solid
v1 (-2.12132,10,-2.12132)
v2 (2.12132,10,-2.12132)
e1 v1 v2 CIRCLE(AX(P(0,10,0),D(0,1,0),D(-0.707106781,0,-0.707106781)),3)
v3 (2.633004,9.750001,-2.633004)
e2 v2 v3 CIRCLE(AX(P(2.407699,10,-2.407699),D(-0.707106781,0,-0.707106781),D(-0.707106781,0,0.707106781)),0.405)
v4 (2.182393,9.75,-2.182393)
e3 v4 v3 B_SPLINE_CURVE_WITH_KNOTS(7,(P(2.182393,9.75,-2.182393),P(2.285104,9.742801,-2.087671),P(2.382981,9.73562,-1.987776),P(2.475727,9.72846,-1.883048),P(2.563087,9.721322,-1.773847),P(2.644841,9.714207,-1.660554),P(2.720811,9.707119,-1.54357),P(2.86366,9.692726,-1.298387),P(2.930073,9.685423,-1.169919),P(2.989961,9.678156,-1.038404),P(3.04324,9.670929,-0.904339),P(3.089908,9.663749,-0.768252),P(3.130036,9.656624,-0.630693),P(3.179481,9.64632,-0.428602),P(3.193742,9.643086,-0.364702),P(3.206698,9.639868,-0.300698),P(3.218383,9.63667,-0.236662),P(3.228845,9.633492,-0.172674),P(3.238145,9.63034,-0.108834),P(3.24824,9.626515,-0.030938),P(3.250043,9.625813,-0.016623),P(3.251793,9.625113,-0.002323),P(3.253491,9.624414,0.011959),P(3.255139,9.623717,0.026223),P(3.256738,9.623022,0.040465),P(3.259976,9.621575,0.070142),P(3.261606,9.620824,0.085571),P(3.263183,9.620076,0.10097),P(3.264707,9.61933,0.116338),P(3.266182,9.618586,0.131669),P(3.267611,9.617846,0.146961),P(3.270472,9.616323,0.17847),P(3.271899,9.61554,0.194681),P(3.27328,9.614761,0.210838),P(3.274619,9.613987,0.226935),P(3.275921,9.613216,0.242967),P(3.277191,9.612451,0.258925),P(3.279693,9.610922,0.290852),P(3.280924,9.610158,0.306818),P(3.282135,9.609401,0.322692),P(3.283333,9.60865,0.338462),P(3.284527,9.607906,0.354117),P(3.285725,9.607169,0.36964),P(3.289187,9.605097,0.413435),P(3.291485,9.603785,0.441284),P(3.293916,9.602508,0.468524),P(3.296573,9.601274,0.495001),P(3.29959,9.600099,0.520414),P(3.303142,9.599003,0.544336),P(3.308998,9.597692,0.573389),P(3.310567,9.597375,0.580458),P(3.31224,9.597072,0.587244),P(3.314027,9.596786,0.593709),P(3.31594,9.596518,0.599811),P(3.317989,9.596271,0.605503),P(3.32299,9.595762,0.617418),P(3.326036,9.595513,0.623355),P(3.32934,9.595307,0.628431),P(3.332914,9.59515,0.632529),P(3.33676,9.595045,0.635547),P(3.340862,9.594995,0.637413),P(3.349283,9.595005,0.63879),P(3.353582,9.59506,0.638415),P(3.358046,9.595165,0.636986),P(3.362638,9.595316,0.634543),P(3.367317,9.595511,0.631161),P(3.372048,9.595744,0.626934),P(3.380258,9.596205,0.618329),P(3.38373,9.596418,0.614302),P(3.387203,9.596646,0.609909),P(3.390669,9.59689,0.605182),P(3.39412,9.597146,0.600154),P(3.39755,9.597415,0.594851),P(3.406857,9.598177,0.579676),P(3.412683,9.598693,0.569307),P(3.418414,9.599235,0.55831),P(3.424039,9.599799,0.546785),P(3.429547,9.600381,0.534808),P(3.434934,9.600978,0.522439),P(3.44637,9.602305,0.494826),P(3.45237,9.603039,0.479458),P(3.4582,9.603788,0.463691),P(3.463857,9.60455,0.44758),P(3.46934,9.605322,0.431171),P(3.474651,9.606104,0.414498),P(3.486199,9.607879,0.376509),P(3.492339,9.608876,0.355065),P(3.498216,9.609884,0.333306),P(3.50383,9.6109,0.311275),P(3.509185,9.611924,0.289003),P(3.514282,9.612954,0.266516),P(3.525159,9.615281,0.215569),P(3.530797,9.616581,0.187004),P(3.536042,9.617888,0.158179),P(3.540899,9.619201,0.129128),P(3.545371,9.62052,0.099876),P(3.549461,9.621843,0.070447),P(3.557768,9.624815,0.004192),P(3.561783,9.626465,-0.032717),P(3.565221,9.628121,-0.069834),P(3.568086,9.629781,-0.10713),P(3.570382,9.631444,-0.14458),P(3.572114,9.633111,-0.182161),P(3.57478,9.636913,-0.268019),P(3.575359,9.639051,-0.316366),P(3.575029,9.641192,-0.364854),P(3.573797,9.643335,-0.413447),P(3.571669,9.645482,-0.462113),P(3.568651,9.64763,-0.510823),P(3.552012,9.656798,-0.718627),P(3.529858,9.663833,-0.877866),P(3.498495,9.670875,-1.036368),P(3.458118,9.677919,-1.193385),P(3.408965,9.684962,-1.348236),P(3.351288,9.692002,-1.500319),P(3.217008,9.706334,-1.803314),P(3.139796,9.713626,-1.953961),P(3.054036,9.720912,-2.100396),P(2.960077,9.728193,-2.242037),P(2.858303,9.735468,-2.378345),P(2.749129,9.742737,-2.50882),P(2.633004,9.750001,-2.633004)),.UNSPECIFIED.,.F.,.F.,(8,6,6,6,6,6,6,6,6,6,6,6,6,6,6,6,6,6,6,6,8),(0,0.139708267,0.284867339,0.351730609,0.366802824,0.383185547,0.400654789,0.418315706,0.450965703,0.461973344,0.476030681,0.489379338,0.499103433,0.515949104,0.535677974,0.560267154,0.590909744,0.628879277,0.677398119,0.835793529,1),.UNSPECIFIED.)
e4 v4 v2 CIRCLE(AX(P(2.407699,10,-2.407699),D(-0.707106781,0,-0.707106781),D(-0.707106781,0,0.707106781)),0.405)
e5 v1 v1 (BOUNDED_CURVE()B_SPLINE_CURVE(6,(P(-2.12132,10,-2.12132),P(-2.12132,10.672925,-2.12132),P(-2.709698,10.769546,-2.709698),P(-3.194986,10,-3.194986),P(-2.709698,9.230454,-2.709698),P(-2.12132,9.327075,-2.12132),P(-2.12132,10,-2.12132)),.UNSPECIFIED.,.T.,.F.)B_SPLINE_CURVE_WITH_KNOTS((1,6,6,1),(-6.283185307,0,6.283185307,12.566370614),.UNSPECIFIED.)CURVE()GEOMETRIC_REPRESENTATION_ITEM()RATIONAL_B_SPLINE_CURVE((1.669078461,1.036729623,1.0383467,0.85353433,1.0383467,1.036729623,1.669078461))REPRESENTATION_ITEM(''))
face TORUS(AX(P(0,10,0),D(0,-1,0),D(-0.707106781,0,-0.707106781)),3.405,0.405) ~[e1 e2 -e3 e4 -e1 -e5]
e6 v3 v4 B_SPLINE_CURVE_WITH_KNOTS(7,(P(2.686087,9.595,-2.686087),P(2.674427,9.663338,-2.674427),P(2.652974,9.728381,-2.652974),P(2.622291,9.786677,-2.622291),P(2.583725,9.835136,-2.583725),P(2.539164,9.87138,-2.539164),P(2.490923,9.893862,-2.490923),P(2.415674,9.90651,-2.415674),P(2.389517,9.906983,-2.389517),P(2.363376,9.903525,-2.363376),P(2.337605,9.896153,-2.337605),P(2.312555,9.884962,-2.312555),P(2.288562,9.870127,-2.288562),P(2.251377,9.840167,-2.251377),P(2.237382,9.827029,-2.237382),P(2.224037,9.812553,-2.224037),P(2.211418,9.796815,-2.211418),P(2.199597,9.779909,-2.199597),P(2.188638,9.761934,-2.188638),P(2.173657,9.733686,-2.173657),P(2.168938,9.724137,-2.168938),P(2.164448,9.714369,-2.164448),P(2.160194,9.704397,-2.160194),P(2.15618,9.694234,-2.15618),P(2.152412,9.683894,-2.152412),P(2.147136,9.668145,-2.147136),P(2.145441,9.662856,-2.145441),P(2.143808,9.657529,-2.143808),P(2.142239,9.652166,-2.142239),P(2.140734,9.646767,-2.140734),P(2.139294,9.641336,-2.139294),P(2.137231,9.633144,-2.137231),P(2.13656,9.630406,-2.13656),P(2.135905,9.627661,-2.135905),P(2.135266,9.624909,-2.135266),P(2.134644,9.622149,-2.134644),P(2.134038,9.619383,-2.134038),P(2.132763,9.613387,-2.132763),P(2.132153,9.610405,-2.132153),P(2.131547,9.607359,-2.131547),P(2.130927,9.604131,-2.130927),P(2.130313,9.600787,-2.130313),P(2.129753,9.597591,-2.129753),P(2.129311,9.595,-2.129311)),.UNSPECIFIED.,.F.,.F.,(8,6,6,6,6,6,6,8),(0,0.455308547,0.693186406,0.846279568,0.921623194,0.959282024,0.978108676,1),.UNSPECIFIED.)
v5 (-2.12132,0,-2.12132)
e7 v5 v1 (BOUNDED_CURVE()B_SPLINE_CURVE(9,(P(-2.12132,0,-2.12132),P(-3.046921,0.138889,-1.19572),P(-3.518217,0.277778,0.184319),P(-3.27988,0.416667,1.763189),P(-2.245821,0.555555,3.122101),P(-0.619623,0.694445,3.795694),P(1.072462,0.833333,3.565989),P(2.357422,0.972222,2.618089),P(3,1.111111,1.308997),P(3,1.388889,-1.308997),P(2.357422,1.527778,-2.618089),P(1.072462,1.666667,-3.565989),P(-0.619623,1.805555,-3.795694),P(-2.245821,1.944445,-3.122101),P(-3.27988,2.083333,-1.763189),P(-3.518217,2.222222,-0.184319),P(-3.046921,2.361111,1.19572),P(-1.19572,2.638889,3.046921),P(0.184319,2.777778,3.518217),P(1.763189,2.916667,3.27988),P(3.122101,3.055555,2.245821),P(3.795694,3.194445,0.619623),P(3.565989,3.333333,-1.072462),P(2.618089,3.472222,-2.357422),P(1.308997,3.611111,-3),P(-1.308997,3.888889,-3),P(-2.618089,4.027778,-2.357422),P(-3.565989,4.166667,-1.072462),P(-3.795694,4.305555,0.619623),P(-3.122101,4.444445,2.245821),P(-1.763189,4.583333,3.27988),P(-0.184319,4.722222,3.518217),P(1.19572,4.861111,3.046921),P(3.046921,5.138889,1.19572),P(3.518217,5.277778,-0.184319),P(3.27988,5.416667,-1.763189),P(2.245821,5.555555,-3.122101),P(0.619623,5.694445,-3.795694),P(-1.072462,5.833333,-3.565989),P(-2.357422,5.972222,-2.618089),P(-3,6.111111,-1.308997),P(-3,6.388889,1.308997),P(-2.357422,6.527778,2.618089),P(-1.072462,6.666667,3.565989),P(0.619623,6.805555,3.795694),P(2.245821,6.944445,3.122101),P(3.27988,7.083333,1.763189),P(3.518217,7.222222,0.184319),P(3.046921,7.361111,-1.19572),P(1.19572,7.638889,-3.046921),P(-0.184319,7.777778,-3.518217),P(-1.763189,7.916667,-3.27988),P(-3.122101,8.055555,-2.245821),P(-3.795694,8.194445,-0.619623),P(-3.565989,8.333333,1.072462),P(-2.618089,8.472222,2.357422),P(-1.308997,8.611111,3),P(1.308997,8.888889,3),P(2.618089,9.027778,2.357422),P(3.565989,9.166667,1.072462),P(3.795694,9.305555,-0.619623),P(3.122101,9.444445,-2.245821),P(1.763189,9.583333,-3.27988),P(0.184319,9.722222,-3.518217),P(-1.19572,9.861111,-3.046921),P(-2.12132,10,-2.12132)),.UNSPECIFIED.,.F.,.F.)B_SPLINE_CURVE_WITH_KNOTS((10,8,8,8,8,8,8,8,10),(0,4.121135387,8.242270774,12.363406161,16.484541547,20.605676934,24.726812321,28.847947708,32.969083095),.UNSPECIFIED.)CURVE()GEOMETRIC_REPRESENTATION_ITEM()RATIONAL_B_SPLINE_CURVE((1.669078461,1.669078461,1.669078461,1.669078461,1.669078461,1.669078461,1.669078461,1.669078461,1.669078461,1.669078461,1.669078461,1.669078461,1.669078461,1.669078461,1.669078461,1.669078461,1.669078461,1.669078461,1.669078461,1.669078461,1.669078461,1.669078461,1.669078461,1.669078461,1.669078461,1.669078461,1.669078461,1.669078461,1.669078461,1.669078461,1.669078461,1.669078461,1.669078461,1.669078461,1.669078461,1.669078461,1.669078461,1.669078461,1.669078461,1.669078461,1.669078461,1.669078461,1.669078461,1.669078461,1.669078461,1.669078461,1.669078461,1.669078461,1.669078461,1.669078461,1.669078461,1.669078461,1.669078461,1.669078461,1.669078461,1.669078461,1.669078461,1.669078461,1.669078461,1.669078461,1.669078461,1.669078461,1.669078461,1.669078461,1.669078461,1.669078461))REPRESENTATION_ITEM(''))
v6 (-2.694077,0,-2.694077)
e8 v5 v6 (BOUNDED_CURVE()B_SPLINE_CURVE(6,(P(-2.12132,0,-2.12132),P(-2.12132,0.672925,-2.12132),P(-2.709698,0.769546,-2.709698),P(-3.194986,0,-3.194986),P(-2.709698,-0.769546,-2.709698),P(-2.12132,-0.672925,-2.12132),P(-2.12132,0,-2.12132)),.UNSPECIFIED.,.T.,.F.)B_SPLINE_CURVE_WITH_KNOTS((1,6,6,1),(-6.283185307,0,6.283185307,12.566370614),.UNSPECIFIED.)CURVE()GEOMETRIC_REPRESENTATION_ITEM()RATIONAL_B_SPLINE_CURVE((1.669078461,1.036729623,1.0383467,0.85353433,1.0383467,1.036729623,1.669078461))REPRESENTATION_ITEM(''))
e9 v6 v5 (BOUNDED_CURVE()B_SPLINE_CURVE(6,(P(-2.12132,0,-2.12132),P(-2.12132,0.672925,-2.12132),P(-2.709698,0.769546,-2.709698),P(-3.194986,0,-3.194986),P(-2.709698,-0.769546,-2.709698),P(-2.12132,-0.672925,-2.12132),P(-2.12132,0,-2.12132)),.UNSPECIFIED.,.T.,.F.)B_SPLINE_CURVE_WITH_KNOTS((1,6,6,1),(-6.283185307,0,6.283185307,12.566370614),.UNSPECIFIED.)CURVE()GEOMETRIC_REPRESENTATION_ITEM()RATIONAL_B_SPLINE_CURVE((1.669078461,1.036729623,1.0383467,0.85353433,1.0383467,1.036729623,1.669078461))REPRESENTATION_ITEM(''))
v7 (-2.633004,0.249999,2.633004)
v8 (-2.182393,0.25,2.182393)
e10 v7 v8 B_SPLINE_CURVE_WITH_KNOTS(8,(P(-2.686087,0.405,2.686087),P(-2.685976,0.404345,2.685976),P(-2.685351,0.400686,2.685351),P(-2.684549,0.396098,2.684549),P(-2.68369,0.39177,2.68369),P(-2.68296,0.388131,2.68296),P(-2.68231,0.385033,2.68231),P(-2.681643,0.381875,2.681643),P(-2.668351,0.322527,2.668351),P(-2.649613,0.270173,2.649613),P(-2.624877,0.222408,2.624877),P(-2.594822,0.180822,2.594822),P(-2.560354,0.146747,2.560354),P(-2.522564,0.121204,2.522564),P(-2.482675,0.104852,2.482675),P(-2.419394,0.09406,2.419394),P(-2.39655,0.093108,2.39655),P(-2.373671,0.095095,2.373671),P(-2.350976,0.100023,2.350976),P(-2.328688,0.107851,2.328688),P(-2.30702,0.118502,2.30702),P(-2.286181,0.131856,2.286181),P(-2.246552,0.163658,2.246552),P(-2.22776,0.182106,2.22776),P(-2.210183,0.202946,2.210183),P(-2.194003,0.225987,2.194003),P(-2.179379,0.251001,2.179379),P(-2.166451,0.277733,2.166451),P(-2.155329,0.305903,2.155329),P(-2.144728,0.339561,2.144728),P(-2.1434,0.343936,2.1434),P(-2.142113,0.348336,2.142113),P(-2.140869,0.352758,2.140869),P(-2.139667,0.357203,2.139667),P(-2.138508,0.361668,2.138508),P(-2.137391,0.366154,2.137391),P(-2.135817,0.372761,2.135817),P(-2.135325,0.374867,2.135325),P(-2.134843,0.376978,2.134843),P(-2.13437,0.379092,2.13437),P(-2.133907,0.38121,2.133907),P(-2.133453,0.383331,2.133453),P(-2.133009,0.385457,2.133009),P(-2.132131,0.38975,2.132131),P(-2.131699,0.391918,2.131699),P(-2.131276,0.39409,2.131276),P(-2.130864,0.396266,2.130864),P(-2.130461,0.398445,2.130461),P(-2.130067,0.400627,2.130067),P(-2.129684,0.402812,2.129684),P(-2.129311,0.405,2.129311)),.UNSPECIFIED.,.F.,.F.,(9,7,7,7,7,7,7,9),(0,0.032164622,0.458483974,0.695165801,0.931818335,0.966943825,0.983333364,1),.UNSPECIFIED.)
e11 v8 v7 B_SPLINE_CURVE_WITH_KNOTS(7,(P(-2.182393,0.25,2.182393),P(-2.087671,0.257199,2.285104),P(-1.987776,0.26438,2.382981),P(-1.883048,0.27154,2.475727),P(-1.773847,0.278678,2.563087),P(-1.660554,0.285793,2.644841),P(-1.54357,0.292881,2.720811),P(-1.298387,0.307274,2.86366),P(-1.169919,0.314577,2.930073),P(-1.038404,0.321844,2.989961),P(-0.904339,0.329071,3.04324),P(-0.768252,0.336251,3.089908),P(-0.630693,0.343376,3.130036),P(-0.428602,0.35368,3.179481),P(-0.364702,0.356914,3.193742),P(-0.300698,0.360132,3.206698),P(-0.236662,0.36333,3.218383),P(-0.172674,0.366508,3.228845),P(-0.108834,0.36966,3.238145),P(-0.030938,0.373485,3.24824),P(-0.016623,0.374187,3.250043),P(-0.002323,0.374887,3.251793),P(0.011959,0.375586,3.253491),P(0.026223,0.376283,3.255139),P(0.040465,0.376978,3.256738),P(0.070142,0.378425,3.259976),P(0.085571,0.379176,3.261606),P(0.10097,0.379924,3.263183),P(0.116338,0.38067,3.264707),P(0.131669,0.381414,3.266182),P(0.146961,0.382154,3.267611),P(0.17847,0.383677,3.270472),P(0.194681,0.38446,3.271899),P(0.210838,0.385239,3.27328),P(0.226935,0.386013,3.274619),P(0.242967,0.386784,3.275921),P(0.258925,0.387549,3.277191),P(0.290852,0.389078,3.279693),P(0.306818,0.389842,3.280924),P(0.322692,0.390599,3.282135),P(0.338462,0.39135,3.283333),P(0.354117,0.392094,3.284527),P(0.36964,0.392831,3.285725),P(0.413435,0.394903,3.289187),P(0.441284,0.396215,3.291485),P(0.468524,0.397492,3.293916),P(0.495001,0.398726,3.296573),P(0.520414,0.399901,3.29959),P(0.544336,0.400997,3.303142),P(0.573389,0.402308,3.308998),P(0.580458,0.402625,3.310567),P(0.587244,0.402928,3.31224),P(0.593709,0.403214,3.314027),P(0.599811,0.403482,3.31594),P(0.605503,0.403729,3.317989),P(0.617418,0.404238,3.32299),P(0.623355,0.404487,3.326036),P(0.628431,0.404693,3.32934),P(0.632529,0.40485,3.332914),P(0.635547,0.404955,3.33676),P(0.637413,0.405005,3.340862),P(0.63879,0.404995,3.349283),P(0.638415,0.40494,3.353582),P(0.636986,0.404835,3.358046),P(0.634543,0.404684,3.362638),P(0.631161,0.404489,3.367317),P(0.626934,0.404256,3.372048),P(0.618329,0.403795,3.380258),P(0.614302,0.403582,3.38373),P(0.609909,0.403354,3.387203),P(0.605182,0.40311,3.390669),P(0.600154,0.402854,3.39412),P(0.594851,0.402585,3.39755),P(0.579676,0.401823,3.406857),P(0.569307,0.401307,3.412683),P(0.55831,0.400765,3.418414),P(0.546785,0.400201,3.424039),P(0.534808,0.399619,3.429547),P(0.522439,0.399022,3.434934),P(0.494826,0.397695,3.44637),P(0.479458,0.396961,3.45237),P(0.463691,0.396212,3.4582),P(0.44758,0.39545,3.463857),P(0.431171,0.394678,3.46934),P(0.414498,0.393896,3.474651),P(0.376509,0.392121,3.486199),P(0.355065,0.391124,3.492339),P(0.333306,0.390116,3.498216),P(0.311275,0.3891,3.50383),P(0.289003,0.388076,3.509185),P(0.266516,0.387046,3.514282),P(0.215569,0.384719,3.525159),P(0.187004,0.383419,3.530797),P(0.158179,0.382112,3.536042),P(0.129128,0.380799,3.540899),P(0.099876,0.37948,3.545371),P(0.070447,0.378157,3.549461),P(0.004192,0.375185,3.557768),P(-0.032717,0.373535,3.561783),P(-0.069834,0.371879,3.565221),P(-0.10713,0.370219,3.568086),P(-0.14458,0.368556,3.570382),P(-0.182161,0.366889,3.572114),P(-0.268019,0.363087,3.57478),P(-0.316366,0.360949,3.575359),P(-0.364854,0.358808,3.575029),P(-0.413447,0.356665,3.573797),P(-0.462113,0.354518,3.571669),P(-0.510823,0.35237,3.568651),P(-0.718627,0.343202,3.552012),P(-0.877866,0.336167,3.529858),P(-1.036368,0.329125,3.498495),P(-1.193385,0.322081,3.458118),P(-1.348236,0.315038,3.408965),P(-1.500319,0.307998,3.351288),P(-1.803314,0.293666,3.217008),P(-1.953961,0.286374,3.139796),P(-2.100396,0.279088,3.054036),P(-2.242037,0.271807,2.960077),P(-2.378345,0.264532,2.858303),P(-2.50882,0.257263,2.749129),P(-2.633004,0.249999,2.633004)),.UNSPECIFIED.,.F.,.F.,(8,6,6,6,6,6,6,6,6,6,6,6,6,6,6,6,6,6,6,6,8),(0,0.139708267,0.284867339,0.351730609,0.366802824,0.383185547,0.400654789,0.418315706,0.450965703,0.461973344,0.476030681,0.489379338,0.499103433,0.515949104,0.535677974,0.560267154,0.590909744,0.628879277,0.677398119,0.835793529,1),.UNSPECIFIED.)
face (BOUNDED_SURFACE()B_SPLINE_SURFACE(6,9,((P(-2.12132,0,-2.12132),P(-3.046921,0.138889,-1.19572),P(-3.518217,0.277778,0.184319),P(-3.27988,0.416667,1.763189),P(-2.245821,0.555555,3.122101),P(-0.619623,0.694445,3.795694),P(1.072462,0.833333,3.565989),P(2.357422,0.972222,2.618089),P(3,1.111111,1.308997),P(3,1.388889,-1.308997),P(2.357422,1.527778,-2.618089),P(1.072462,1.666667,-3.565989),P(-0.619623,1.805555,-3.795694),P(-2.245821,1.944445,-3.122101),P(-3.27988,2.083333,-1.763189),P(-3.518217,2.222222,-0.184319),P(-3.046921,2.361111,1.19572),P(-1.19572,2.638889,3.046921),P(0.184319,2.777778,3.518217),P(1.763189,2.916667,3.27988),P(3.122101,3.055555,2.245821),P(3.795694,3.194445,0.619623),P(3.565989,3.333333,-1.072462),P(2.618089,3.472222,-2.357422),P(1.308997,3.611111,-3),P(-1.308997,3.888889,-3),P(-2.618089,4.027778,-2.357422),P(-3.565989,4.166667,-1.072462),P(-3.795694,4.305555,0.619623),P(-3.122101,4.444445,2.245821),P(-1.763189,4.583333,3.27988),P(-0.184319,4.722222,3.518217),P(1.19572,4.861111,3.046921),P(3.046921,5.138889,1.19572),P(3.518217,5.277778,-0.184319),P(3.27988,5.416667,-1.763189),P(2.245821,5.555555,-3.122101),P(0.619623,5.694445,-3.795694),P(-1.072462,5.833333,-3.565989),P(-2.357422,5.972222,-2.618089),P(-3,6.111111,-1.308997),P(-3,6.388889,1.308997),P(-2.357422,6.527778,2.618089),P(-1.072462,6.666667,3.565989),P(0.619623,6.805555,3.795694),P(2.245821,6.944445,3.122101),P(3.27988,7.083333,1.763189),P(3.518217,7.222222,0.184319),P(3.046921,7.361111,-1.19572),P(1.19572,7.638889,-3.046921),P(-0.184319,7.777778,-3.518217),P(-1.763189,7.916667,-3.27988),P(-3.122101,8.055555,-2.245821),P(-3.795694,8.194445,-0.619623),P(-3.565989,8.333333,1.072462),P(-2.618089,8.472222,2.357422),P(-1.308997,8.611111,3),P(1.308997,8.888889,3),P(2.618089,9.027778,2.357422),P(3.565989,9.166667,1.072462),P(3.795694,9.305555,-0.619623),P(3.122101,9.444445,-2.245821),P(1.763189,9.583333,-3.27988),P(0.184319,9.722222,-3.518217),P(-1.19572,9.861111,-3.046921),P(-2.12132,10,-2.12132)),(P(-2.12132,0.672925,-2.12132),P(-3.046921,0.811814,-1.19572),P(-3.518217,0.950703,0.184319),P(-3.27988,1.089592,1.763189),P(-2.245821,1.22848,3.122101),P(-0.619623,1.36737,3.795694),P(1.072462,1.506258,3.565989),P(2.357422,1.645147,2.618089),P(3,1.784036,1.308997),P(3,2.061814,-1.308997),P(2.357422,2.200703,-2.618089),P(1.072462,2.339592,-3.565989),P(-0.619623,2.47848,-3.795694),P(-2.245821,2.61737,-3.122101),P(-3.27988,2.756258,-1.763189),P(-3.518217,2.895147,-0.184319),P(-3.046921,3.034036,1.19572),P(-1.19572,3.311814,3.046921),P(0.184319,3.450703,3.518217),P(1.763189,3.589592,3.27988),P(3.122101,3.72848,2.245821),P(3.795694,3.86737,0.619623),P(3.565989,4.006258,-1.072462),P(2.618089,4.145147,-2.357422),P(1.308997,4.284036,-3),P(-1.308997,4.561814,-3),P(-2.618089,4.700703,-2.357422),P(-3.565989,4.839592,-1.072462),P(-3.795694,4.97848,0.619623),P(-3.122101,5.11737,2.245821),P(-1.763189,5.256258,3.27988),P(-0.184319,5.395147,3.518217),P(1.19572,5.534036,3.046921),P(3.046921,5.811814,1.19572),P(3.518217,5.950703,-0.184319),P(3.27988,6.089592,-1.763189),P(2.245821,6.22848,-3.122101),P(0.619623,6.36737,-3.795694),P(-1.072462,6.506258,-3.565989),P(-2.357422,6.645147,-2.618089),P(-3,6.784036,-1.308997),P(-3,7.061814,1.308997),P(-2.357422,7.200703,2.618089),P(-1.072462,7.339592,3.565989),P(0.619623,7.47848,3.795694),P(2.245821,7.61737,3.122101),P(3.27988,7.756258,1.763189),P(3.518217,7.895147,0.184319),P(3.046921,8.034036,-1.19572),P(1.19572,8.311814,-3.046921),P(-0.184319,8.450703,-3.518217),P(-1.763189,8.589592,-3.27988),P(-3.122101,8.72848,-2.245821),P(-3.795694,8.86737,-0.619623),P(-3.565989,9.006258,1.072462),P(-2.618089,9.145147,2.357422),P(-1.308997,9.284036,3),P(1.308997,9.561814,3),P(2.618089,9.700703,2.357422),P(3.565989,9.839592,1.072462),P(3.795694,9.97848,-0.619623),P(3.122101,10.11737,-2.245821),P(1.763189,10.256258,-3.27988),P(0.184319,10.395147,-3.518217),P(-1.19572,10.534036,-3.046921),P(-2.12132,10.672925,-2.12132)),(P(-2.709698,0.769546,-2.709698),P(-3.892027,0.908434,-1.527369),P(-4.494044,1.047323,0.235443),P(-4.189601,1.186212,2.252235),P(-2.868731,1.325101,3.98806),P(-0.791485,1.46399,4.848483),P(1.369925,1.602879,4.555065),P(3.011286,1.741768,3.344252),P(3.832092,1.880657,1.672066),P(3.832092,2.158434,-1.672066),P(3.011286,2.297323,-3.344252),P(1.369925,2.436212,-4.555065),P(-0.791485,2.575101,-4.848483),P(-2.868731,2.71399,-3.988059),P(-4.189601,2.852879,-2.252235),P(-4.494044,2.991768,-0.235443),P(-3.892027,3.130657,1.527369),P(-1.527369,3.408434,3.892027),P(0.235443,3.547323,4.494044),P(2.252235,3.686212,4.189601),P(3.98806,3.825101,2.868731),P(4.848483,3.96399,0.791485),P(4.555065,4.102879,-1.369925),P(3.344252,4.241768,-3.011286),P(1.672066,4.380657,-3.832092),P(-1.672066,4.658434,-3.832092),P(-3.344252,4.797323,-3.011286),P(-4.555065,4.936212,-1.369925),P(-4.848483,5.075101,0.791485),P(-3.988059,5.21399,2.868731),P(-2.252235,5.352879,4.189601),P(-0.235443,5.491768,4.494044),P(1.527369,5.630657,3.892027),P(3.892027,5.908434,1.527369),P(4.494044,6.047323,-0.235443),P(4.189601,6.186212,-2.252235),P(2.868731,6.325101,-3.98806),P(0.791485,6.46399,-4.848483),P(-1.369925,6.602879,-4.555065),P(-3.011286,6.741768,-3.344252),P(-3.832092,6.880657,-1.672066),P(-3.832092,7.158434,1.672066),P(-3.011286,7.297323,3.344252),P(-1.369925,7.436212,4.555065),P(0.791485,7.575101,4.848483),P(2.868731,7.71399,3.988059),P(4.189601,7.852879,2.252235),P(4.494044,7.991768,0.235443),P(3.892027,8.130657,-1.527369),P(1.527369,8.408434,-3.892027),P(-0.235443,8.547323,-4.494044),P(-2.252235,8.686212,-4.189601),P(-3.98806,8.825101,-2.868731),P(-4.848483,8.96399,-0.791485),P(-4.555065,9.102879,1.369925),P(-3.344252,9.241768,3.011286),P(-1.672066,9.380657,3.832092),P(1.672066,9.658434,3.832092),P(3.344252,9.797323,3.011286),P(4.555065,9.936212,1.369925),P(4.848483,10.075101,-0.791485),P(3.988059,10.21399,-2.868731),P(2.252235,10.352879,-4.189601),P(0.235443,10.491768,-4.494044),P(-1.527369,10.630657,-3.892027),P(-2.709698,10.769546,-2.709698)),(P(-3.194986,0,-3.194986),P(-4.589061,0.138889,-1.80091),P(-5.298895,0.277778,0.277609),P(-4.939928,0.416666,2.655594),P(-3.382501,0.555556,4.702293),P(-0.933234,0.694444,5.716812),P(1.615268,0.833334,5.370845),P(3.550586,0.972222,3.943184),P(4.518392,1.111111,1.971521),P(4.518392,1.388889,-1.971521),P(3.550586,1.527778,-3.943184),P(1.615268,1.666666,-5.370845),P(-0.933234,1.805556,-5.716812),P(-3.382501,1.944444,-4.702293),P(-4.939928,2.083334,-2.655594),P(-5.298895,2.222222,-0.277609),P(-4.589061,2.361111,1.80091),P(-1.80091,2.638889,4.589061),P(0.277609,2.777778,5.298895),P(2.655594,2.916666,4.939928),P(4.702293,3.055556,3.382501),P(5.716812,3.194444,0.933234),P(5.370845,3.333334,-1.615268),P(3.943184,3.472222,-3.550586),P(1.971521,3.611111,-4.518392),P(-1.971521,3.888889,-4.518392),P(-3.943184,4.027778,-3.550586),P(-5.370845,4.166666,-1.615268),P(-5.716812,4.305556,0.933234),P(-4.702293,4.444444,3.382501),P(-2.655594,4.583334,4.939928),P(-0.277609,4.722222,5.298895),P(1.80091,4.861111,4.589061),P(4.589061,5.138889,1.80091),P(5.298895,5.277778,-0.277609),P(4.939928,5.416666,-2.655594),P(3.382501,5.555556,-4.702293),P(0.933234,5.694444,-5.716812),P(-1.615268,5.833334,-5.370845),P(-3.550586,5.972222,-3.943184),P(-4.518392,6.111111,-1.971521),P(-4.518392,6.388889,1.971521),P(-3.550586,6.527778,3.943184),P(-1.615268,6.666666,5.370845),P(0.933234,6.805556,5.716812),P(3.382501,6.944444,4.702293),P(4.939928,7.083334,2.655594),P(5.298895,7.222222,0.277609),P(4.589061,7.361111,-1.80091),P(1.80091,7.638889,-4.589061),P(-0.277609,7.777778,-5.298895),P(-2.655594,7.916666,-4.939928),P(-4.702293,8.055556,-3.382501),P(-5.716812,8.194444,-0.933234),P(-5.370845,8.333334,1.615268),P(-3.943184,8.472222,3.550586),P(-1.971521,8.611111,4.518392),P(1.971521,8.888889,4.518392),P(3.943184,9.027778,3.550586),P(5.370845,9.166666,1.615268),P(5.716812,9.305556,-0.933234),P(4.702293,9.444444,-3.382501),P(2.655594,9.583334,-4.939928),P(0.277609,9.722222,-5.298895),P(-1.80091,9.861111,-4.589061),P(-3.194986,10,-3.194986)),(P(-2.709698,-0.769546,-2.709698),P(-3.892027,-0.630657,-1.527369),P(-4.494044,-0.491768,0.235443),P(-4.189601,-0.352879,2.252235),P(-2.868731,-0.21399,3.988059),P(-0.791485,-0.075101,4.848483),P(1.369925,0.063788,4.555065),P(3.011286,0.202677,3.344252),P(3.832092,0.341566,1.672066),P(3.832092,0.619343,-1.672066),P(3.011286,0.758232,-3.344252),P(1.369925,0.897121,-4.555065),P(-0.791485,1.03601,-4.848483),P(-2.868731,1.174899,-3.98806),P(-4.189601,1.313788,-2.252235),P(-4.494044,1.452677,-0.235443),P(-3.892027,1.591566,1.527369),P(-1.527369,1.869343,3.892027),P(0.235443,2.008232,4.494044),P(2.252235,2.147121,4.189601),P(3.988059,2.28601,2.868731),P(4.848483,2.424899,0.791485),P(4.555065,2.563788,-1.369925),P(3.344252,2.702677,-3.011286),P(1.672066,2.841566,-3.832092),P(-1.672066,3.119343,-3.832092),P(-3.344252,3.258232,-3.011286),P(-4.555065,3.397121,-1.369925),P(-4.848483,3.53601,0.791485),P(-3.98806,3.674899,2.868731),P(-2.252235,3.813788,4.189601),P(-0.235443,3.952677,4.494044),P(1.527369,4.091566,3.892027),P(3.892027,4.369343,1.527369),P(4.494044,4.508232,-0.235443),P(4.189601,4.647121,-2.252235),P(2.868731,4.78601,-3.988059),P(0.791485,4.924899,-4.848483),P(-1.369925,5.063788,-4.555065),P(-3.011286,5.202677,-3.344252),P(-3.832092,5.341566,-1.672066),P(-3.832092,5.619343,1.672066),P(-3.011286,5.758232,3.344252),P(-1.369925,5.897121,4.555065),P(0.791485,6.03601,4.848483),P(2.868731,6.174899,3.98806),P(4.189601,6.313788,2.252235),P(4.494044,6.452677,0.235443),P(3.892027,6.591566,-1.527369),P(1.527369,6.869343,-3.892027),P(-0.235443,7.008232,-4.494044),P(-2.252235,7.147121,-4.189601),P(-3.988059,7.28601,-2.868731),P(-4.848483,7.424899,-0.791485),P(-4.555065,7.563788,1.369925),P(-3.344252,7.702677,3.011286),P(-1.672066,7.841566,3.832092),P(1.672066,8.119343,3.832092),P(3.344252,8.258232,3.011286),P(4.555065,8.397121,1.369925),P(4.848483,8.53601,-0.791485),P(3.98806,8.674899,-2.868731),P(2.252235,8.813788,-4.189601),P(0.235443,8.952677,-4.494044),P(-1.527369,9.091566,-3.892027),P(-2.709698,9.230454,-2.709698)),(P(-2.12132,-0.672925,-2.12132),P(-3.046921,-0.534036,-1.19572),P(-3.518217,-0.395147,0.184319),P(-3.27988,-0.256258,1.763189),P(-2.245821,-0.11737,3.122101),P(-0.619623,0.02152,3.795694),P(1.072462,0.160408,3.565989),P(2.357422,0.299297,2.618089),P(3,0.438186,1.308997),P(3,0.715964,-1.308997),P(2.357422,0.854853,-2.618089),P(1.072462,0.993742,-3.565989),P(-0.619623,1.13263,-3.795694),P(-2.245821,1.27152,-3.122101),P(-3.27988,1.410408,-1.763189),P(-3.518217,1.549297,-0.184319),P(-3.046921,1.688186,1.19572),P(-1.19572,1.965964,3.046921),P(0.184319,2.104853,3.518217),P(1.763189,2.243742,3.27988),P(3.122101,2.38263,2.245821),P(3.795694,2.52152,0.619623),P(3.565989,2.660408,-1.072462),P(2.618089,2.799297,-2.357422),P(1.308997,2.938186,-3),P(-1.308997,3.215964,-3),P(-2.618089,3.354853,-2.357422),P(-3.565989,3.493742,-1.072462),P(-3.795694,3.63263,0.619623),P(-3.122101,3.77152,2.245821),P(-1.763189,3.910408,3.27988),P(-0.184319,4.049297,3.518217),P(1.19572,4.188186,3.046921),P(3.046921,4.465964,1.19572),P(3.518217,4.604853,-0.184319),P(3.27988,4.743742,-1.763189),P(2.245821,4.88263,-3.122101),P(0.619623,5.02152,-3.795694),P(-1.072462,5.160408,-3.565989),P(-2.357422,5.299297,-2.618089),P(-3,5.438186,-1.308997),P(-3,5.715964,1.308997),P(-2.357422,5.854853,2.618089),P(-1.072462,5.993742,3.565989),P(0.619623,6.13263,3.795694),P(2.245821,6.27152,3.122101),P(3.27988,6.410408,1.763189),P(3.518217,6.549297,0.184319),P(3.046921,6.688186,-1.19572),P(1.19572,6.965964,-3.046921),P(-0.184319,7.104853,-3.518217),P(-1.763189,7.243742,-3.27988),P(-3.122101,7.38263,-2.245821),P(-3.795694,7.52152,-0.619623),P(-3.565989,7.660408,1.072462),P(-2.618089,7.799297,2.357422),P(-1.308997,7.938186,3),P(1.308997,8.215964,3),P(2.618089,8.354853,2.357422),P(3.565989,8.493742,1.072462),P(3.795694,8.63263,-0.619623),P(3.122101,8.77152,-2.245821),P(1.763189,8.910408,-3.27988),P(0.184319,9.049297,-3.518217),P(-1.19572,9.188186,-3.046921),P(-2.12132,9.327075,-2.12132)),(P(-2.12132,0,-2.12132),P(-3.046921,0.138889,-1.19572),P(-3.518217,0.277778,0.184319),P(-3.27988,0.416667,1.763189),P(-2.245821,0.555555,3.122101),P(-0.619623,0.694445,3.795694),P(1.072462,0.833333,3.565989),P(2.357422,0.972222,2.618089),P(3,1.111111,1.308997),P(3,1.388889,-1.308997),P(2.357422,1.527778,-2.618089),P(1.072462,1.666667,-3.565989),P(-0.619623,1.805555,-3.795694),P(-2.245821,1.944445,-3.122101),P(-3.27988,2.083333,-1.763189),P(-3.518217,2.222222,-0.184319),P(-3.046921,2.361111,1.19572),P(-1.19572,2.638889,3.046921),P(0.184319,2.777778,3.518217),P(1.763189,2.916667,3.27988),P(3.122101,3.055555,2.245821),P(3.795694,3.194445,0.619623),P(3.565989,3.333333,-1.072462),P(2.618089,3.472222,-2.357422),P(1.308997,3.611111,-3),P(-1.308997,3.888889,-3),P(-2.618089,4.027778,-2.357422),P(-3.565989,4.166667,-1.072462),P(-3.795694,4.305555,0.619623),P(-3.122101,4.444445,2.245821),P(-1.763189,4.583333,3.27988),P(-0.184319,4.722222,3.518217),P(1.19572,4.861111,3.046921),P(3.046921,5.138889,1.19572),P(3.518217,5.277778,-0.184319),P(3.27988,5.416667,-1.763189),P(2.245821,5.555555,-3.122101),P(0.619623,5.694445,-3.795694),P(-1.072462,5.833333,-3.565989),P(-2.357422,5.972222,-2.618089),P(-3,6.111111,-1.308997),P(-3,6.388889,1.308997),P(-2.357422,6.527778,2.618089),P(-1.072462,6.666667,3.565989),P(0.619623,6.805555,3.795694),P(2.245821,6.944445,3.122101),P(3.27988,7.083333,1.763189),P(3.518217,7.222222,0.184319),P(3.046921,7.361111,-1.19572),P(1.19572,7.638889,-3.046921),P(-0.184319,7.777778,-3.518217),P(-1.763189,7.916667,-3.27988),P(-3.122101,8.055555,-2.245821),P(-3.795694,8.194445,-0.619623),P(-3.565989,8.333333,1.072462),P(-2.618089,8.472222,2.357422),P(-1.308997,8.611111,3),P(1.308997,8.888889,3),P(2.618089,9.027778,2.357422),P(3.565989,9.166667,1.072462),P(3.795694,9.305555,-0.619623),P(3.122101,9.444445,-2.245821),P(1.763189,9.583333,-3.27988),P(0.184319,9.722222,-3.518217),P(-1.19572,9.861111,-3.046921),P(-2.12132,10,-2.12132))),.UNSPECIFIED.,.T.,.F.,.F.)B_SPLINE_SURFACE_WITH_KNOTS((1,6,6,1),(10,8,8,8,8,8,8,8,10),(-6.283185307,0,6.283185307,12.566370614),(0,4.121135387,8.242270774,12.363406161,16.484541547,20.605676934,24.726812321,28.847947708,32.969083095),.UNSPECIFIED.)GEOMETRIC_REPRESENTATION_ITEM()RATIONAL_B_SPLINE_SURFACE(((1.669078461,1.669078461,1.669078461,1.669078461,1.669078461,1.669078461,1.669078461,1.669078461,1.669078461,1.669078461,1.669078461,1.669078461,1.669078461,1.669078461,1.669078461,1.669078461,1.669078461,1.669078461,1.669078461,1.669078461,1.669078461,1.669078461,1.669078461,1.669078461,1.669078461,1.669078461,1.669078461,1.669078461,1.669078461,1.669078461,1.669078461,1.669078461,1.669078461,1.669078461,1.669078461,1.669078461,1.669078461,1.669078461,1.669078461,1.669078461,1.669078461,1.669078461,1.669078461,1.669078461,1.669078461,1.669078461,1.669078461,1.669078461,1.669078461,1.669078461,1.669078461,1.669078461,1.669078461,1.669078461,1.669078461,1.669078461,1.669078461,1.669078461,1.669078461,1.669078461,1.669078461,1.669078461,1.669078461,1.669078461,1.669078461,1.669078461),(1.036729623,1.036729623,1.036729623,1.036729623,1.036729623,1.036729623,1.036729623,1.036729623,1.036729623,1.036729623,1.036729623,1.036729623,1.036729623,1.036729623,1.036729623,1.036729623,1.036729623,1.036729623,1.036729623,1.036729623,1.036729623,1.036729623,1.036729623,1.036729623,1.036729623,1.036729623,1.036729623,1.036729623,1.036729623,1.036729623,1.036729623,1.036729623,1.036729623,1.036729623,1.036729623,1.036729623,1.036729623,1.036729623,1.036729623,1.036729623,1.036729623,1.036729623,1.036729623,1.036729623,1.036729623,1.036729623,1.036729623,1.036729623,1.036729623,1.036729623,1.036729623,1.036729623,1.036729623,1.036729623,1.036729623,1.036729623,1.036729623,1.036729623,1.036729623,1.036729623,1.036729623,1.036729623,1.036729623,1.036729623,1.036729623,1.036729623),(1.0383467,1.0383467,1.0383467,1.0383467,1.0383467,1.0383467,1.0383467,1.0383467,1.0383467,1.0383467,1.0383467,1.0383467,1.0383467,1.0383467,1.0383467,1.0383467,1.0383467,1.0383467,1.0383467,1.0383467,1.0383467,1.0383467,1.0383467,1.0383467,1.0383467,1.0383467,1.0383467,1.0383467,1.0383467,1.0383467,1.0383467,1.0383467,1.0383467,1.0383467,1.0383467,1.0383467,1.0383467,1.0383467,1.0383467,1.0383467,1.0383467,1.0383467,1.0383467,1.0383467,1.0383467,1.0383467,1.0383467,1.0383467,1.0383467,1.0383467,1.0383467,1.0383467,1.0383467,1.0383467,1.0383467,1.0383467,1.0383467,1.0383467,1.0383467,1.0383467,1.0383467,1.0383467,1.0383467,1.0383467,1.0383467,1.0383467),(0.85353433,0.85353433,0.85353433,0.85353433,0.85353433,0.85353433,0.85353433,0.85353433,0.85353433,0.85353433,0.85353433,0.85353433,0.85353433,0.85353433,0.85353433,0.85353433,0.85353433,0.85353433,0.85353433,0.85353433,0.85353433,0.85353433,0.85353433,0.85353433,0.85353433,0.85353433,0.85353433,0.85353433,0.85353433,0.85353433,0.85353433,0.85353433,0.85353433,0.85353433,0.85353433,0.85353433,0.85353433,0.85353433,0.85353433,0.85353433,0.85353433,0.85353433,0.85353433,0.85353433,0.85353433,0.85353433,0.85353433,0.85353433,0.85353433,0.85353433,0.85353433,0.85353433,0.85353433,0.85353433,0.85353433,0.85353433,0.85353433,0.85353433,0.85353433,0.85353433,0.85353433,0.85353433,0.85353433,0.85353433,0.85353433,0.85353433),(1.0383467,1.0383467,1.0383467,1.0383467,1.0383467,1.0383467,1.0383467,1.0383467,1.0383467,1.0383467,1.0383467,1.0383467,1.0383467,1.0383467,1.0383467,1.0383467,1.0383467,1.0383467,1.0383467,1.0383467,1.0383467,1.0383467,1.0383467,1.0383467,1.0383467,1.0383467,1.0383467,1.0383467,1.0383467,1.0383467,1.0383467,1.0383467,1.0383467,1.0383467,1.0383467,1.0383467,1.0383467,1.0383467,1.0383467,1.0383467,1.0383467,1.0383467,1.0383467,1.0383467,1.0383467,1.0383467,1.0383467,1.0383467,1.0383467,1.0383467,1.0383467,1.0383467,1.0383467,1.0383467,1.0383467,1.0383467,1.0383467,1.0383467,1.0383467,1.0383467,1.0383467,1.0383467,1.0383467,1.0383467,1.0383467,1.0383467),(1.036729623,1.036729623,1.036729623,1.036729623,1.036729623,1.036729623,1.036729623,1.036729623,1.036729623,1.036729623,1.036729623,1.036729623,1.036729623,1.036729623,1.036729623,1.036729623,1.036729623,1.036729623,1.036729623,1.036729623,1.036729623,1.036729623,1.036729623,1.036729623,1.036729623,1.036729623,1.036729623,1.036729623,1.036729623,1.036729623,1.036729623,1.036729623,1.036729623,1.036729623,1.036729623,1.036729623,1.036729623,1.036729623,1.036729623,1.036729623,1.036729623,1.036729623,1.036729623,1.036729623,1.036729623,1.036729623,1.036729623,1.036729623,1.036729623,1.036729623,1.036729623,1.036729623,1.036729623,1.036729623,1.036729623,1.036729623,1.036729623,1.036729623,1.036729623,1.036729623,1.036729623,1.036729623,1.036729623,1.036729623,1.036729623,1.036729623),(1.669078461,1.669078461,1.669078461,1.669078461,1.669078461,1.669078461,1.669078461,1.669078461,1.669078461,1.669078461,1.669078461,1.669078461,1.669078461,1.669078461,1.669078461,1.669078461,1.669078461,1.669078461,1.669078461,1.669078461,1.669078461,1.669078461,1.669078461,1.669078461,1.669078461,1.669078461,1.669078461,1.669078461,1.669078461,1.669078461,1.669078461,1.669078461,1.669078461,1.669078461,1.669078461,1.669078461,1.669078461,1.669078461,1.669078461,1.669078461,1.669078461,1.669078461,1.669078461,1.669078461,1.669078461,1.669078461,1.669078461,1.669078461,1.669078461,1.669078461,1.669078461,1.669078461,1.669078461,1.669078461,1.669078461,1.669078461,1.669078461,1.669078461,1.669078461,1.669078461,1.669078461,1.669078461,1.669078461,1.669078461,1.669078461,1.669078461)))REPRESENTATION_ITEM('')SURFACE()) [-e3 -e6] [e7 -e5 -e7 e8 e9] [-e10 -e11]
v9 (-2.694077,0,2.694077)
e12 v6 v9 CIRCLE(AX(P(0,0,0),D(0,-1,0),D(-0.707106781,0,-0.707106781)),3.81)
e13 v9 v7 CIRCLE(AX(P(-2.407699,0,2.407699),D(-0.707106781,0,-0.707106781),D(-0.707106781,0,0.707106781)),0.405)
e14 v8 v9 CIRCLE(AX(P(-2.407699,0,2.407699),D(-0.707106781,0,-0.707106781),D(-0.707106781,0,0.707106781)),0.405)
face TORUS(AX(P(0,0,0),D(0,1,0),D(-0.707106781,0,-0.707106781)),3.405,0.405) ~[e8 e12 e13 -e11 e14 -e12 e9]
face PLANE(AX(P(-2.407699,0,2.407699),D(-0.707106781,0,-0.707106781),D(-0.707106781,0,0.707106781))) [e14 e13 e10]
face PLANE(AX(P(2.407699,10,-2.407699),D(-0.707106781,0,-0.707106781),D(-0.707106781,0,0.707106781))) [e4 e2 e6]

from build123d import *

# Parameters (mm, degrees)
BARRER1_PITCH       = 2
BARRER1_HEIGHT      = 10
BARRER1_RADIUS      = 3.405
BARRER1_START_ANGLE = -135
CROQUIS3_R          = 0.405
CROQUIS4_R          = 0.405
REVOLUCI_N1_ANGLE   = 270
CROQUIS6_R          = 0.405
REVOLUCI_N2_ANGLE   = 270


with BuildPart() as part:
    # Barrer1: sweep along a helix
    with BuildLine() as barrer1_path:
        add(Helix(BARRER1_PITCH, BARRER1_HEIGHT, BARRER1_RADIUS, center=(0, 0, 0), direction=(0, 1, 0), mode=Mode.PRIVATE).rotate(Axis((0, 0, 0), (0, 1, 0)), BARRER1_START_ANGLE))
    # Croquis3 → Barrer1 (sweep)
    with BuildSketch(Plane(origin=(0, 0, 0), x_dir=(0.707106781, 0, 0.707106781), z_dir=(-0.707106781, 0, 0.707106781))):
        with Locations((-3.405, 10)):
            Circle(CROQUIS3_R)
    sweep(path=barrer1_path.line, is_frenet=True)

    # Croquis4 → Revoluci_n1 (revolve)
    with BuildSketch(Plane(origin=(0, 0, 0), x_dir=(0.707106781, 0, 0.707106781), z_dir=(-0.707106781, 0, 0.707106781))):
        with Locations((-3.405, 10)):
            Circle(CROQUIS4_R)
    revolve(axis=Axis((0, 0, 0), (0, 1, 0)), revolution_arc=REVOLUCI_N1_ANGLE)

    # Croquis6 → Revoluci_n2 (revolve)
    with BuildSketch(Plane(origin=(0, 0, 0), x_dir=(-0.707106781, 0, -0.707106781), z_dir=(0.707106781, 0, -0.707106781))):
        with Locations((3.405, 0)):
            Circle(CROQUIS6_R)
    revolve(axis=Axis((0, 0, 0), (0, -1, 0)), revolution_arc=REVOLUCI_N2_ANGLE)


solid = part.part
